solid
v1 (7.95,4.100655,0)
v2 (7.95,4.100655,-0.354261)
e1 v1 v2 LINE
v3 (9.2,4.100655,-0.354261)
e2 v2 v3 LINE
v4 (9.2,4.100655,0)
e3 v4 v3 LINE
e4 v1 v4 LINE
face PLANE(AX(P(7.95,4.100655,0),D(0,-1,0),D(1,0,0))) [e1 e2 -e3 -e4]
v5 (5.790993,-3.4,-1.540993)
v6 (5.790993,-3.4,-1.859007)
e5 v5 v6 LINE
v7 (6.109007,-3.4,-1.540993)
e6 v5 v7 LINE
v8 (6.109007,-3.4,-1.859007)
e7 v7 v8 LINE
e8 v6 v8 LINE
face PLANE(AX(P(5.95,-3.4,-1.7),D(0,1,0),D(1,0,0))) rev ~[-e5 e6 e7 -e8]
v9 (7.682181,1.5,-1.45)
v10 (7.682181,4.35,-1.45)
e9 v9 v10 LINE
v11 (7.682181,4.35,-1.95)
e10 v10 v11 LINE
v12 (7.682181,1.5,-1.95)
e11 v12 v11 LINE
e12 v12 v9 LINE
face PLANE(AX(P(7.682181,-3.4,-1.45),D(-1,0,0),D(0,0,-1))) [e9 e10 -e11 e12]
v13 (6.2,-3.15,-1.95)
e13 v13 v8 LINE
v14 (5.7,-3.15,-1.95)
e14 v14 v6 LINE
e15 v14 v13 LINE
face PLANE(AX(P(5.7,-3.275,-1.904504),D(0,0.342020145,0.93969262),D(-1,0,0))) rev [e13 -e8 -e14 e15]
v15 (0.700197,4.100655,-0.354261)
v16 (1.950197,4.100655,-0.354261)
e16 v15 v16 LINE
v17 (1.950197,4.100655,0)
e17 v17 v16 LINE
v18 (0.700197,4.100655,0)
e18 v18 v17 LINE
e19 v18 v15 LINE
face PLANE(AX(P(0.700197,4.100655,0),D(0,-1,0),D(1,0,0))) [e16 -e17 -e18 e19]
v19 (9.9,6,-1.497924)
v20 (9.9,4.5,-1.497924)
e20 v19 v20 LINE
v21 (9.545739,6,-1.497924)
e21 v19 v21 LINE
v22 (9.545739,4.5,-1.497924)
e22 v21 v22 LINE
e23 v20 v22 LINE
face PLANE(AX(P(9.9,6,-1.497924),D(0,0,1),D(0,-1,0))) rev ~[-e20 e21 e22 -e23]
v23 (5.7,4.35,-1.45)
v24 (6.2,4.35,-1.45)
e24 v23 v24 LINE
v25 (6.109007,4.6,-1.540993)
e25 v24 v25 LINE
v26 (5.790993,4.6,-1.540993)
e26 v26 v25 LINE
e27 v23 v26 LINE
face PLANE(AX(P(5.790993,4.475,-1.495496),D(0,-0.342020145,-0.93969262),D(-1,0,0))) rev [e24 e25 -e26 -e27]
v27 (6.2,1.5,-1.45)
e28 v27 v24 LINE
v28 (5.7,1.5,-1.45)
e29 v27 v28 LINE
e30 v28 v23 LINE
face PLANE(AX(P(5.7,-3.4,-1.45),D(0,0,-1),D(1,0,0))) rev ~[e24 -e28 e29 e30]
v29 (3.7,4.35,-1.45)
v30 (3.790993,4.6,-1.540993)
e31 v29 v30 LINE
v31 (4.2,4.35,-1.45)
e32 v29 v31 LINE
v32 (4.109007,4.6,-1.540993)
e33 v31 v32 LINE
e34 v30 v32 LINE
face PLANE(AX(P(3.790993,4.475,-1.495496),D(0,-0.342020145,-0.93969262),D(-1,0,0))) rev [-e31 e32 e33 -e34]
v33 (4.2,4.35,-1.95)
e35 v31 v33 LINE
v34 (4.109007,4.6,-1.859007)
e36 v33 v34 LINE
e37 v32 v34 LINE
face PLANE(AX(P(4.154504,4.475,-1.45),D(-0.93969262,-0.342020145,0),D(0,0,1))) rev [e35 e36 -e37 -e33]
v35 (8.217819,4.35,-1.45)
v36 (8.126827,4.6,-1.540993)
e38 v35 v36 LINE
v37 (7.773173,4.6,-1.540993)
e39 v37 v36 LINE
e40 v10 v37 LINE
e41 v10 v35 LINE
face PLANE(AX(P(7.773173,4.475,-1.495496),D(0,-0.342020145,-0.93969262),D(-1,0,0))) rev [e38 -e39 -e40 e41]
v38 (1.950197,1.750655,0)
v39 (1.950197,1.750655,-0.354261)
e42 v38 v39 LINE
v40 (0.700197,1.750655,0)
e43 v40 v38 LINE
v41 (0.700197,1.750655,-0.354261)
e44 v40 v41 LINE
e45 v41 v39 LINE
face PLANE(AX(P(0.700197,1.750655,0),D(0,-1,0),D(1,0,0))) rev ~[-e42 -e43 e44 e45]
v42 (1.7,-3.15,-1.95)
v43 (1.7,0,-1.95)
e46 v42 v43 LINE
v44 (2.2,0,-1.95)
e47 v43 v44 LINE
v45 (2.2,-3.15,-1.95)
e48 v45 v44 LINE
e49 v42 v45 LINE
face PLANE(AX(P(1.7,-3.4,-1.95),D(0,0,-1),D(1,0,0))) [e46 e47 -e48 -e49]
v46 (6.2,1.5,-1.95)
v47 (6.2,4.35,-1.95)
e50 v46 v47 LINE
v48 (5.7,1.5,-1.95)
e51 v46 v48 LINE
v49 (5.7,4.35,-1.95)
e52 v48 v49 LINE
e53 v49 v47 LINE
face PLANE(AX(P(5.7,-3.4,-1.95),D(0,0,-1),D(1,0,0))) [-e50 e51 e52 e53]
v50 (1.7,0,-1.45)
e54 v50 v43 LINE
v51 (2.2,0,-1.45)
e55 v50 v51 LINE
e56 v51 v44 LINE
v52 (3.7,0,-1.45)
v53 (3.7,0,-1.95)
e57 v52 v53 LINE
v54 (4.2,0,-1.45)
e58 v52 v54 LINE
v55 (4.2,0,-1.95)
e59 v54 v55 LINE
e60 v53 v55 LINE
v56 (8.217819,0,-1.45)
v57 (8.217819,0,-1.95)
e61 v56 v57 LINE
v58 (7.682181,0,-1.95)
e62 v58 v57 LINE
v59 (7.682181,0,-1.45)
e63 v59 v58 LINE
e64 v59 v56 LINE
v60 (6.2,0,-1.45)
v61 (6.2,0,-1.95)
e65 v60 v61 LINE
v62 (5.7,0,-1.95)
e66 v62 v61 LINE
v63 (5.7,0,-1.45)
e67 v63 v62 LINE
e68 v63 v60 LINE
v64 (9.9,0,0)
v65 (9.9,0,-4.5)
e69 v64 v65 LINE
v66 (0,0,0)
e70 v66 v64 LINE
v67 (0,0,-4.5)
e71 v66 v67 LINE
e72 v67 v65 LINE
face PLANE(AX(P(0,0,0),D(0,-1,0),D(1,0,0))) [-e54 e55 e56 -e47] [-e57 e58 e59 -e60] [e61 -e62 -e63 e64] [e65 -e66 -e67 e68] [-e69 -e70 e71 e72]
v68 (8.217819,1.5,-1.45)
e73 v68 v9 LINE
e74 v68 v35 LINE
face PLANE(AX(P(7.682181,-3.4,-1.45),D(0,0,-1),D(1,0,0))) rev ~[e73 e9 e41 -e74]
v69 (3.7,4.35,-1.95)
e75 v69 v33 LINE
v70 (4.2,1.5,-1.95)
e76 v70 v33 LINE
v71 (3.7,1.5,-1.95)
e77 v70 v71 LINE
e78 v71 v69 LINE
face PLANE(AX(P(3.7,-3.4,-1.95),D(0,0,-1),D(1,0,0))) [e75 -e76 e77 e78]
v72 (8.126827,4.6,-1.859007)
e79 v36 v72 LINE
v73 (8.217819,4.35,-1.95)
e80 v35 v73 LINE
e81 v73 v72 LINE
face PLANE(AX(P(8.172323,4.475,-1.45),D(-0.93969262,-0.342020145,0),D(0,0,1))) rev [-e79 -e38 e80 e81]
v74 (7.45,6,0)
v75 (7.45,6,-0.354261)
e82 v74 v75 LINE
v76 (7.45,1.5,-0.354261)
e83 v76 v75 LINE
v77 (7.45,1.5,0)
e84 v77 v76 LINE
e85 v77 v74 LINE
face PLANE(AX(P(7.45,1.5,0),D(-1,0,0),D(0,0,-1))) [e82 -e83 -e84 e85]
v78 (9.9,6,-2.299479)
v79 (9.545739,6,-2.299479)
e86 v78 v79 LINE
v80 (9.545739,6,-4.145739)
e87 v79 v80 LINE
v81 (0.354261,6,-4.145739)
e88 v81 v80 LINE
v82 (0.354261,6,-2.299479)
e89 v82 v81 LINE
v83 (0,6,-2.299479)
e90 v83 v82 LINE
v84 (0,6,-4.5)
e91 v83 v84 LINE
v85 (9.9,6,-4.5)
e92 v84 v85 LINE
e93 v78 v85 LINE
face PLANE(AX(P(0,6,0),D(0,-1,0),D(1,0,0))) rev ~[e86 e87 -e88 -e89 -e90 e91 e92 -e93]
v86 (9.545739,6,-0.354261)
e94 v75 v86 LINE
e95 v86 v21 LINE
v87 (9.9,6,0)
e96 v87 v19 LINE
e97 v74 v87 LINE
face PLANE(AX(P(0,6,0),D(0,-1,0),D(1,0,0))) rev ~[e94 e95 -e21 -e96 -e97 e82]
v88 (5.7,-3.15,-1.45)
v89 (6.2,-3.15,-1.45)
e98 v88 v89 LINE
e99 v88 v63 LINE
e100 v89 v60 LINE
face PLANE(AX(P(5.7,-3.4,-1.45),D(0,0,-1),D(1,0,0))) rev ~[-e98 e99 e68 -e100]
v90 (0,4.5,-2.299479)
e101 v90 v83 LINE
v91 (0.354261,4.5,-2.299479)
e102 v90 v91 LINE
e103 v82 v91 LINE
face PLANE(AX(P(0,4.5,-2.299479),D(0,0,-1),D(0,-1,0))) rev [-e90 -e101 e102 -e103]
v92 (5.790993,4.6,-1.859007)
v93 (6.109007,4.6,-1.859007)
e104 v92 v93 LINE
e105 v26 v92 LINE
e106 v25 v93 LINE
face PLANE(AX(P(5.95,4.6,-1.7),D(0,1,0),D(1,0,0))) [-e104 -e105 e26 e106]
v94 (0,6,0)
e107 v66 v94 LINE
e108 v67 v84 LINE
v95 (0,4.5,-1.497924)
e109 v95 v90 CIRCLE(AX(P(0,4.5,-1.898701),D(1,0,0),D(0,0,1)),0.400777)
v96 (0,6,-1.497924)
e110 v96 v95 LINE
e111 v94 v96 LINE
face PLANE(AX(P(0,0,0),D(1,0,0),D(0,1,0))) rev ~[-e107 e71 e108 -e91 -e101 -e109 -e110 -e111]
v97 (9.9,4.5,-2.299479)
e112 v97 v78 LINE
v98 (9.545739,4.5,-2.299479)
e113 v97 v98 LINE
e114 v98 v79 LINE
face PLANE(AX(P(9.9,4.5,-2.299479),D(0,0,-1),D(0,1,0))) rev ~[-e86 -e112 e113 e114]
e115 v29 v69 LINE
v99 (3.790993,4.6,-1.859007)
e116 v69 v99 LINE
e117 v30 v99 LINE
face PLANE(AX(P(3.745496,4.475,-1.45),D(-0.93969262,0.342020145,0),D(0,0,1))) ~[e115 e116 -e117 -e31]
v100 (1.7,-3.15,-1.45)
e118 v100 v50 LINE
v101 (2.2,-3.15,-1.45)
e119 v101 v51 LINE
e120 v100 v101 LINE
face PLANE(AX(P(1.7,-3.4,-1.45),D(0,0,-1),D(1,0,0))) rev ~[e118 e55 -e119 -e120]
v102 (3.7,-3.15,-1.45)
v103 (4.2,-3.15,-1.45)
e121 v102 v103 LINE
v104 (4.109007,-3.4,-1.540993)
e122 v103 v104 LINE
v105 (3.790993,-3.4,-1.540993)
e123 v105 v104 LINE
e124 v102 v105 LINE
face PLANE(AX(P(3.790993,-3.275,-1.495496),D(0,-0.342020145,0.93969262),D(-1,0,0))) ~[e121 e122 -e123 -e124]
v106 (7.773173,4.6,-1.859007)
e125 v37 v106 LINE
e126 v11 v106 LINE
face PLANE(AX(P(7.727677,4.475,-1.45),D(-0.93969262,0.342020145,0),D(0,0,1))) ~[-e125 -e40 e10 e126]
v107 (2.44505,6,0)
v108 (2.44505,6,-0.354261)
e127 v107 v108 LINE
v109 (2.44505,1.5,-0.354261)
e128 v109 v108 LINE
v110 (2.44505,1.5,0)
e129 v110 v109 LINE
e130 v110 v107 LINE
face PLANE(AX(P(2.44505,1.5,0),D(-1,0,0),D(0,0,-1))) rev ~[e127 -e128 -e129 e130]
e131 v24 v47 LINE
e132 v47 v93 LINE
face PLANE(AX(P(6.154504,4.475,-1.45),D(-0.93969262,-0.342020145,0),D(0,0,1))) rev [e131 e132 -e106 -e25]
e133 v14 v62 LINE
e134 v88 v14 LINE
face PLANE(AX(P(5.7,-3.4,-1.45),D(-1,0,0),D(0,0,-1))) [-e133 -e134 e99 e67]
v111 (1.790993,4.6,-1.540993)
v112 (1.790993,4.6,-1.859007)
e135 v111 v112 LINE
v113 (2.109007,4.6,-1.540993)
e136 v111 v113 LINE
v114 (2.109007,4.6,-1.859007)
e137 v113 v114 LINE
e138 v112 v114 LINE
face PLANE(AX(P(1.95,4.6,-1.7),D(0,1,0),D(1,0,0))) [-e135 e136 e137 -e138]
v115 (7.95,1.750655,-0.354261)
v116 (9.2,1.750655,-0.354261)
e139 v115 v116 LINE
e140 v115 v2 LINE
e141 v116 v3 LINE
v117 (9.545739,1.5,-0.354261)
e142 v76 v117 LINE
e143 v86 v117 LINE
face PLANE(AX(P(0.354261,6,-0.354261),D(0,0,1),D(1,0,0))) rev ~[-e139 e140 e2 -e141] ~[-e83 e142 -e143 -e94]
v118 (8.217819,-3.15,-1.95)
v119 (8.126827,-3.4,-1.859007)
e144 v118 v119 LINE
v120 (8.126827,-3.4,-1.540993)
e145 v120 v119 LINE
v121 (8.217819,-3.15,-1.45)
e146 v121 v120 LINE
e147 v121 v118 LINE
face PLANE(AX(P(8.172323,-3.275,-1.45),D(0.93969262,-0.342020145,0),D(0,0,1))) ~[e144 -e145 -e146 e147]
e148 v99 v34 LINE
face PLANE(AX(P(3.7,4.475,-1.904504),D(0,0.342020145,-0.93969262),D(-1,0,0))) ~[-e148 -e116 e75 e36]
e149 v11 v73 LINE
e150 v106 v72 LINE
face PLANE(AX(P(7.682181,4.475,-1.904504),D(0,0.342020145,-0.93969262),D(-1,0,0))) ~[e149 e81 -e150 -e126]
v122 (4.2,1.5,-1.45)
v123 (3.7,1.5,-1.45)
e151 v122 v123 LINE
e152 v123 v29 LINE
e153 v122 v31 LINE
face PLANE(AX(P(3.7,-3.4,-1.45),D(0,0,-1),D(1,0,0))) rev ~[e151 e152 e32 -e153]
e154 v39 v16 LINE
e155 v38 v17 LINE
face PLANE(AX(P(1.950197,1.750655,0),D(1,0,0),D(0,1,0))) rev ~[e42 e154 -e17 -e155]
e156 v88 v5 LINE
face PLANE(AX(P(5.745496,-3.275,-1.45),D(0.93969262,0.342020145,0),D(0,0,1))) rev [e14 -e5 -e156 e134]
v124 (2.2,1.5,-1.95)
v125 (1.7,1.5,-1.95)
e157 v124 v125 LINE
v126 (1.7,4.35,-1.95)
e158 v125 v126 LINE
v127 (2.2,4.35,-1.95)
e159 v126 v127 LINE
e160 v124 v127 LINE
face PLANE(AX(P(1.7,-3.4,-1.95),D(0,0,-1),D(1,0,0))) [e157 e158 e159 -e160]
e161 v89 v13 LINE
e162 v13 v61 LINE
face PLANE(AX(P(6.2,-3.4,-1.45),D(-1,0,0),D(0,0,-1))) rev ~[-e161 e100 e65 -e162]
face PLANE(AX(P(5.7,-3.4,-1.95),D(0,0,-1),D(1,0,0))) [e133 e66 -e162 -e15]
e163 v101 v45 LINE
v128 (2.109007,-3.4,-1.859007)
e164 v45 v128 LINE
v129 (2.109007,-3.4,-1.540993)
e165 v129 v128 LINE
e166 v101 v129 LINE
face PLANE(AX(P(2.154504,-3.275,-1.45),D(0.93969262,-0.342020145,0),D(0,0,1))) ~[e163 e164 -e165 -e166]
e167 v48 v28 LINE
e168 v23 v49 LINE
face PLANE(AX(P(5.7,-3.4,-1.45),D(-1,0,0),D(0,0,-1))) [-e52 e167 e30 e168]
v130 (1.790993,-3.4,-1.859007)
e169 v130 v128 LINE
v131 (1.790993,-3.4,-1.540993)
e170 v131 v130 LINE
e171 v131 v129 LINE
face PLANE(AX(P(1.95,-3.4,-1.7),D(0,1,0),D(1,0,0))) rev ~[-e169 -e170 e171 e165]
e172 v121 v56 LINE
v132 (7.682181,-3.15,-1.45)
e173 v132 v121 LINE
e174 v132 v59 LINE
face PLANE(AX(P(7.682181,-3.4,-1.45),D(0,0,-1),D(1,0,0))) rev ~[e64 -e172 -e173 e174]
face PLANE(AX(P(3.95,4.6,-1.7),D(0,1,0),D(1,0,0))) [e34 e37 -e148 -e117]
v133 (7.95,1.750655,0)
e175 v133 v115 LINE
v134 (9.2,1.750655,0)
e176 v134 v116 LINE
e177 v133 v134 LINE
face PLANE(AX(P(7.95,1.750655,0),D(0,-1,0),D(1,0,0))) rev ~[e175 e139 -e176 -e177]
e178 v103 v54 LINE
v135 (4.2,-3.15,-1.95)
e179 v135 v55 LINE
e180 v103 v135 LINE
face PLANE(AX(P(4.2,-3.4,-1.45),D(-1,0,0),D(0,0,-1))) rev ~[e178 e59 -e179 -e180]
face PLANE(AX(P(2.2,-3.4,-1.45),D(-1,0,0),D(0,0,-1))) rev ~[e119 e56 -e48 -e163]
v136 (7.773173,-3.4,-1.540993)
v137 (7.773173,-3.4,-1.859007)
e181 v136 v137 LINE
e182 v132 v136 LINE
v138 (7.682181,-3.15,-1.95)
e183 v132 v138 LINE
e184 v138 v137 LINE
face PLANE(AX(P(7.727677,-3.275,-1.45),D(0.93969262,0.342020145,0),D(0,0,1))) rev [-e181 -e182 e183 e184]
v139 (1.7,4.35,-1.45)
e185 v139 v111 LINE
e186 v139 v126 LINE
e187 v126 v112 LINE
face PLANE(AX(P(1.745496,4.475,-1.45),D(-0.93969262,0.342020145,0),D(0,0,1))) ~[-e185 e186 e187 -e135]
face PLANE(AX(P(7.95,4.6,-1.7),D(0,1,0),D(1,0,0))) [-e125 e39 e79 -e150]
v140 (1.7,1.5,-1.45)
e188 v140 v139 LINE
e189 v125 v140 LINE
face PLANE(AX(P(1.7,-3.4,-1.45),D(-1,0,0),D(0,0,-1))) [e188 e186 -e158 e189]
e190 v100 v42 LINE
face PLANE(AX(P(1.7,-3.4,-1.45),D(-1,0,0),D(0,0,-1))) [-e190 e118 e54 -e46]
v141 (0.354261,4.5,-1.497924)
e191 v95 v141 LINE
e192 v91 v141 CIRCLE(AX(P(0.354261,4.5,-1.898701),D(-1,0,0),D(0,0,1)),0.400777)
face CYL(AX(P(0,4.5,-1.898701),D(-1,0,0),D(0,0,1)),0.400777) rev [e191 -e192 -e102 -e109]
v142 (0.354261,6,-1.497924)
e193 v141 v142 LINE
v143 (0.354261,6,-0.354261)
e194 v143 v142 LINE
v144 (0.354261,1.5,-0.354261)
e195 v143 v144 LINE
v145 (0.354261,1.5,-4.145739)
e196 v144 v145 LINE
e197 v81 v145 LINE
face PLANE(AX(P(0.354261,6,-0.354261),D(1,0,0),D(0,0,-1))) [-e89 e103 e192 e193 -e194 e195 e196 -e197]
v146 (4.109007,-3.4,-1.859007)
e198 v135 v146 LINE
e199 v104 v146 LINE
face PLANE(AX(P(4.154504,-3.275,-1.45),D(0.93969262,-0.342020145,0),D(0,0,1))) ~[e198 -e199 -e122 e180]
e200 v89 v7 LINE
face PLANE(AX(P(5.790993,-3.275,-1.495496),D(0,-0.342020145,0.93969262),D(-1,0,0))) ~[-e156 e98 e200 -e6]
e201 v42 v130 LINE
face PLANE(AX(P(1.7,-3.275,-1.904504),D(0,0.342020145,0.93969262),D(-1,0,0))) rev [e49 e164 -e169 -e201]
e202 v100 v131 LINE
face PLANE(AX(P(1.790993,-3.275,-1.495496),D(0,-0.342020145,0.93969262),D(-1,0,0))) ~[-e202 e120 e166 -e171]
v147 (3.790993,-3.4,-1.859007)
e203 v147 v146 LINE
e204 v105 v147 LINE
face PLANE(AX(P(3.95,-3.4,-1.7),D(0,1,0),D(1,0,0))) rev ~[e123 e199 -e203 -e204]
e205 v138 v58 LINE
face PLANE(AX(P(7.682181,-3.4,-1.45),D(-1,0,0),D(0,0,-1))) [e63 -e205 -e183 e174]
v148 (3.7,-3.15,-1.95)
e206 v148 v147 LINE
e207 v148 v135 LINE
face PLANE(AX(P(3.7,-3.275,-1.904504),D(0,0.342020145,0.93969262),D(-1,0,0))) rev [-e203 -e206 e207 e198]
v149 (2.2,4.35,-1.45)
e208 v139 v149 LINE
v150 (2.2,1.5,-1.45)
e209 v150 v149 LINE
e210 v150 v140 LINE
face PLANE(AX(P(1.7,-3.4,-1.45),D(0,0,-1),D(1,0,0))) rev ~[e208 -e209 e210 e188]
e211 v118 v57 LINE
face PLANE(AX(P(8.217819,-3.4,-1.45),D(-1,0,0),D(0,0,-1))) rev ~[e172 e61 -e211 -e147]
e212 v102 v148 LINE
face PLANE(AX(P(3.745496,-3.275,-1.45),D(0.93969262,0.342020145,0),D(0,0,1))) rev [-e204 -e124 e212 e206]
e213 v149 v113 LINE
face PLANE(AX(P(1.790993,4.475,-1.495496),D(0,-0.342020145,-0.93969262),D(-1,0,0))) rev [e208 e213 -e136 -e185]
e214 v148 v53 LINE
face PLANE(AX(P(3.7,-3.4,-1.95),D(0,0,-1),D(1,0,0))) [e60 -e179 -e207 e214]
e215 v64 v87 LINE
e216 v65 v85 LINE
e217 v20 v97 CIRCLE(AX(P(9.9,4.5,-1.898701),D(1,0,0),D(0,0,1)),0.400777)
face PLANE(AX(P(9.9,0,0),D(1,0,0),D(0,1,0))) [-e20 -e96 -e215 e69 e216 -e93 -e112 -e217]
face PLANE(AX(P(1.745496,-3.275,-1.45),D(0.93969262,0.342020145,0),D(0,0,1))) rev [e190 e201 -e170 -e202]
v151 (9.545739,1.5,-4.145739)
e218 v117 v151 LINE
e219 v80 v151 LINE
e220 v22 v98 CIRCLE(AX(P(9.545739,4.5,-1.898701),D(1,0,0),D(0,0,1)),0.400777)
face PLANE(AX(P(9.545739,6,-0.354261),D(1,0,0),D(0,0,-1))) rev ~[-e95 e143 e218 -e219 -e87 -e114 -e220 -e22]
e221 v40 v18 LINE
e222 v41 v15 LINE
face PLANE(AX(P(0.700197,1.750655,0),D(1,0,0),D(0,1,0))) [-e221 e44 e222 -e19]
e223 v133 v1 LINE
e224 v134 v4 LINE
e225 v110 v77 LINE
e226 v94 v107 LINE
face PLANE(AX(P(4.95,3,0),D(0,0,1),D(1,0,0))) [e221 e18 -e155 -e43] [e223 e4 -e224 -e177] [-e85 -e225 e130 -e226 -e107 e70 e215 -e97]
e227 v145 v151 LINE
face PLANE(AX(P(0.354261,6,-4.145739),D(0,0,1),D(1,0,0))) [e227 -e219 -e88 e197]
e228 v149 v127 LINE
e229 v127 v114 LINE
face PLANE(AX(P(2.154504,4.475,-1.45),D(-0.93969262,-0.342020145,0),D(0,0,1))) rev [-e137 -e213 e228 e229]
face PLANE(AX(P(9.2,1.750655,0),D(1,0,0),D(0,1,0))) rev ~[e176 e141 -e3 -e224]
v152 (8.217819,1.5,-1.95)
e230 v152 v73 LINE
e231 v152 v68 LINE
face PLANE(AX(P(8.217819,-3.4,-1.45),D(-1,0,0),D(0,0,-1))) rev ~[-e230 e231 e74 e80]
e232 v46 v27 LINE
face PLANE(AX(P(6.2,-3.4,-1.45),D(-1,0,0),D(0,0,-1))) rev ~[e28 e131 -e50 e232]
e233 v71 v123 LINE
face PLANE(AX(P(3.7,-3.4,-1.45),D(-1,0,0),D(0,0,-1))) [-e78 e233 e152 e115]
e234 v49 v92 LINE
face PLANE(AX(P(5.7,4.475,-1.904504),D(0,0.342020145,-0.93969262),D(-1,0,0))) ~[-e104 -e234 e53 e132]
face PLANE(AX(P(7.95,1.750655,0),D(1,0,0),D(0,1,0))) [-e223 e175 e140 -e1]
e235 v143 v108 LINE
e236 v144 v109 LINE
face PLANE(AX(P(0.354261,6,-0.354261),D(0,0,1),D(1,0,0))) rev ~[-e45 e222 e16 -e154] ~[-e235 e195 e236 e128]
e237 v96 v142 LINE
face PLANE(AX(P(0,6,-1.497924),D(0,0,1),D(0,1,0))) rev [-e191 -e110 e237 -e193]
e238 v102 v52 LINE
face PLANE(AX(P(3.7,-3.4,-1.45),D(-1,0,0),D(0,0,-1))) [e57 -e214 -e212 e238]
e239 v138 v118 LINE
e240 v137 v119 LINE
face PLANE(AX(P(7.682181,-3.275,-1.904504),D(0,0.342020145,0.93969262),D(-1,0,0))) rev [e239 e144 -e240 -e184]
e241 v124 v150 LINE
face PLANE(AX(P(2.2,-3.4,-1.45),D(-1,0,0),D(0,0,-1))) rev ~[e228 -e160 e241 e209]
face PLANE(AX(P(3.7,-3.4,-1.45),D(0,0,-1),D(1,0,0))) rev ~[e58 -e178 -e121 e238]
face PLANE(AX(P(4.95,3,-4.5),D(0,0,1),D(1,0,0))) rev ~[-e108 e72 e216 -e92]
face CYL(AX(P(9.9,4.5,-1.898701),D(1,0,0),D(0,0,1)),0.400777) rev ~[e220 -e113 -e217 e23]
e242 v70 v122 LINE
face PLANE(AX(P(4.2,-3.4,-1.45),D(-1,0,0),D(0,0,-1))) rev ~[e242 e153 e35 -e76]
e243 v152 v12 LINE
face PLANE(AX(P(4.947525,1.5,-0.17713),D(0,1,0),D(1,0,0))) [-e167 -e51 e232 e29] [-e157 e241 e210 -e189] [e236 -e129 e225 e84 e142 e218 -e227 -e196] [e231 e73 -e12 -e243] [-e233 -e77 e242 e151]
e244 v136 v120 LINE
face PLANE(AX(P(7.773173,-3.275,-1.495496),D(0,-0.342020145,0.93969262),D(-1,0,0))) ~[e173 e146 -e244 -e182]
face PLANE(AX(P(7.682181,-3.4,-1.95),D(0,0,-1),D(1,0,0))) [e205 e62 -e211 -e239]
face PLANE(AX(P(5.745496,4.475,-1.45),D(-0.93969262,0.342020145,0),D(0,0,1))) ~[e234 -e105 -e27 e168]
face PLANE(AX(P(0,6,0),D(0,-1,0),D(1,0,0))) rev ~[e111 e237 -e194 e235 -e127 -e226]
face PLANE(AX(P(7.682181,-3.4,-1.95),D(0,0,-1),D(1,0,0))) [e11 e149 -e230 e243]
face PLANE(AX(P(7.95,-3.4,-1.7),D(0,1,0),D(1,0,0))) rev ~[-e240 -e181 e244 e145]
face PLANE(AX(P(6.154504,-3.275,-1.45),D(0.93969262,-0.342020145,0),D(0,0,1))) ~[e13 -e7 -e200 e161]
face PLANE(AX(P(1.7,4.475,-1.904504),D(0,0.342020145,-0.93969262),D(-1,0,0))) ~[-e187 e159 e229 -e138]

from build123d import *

# Parameters (mm, degrees)
SKETCH1_W              = 9.9
SKETCH1_H              = 6
BOSS_EXTRUDE1_DEPTH    = 4.5
SKETCH2_W              = 9.191478786
SKETCH2_H              = 3.791478786
CUT_EXTRUDE1_DEPTH     = 4.5
SKETCH3_W              = 5.004949596
SKETCH3_H              = 0.354260607
CUT_EXTRUDE2_DEPTH     = 4.5
CUT_EXTRUDE3_DEPTH     = 0.5
SKETCH6_W              = 1.25
SKETCH6_H              = 2.35
CUT_EXTRUDE4_DEPTH     = 0.5
BOSS_EXTRUDE3_START    = -3.4
SKETCH10_W             = 0.5
SKETCH10_H             = 0.5
SKETCH10_W_2           = 0.535638506
BOSS_EXTRUDE3_DEPTH    = 8
CHAMFER1_SIZE          = 0.25
CHAMFER1_SIZE2         = 0.090992559
CHAMFER1_PART_2_SIZE   = 0.25
CHAMFER1_PART_2_SIZE2  = 0.090992559
CHAMFER1_PART_3_SIZE   = 0.25
CHAMFER1_PART_3_SIZE2  = 0.090992559
CHAMFER1_PART_4_SIZE   = 0.25
CHAMFER1_PART_4_SIZE2  = 0.090992559
CHAMFER2_SIZE          = 0.25
CHAMFER2_SIZE2         = 0.090992559
CHAMFER2_PART_2_SIZE   = 0.25
CHAMFER2_PART_2_SIZE2  = 0.090992559
CHAMFER2_PART_3_SIZE   = 0.25
CHAMFER2_PART_3_SIZE2  = 0.090992559
CHAMFER2_PART_4_SIZE   = 0.25
CHAMFER2_PART_4_SIZE2  = 0.090992559
CHAMFER2_PART_5_SIZE   = 0.25
CHAMFER2_PART_5_SIZE2  = 0.090992559
CHAMFER2_PART_6_SIZE   = 0.25
CHAMFER2_PART_6_SIZE2  = 0.090992559
CHAMFER2_PART_7_SIZE   = 0.25
CHAMFER2_PART_7_SIZE2  = 0.090992559
CHAMFER2_PART_8_SIZE   = 0.25
CHAMFER2_PART_8_SIZE2  = 0.090992559
CHAMFER2_PART_9_SIZE   = 0.25
CHAMFER2_PART_9_SIZE2  = 0.090992559
CHAMFER2_PART_10_SIZE  = 0.25
CHAMFER2_PART_10_SIZE2 = 0.090992559
CHAMFER2_PART_11_SIZE  = 0.25
CHAMFER2_PART_11_SIZE2 = 0.090992559
CHAMFER2_PART_12_SIZE  = 0.25
CHAMFER2_PART_12_SIZE2 = 0.090992559
CHAMFER3_SIZE          = 0.25
CHAMFER3_SIZE2         = 0.090992559
CHAMFER3_PART_2_SIZE   = 0.25
CHAMFER3_PART_2_SIZE2  = 0.090992559
CHAMFER3_PART_3_SIZE   = 0.25
CHAMFER3_PART_3_SIZE2  = 0.090992559
CHAMFER3_PART_4_SIZE   = 0.25
CHAMFER3_PART_4_SIZE2  = 0.090992559
CHAMFER3_PART_5_SIZE   = 0.25
CHAMFER3_PART_5_SIZE2  = 0.090992559
CHAMFER3_PART_6_SIZE   = 0.25
CHAMFER3_PART_6_SIZE2  = 0.090992559
CHAMFER3_PART_7_SIZE   = 0.25
CHAMFER3_PART_7_SIZE2  = 0.090992559
CHAMFER3_PART_8_SIZE   = 0.25
CHAMFER3_PART_8_SIZE2  = 0.090992559
CHAMFER3_PART_9_SIZE   = 0.25
CHAMFER3_PART_9_SIZE2  = 0.090992559
CHAMFER3_PART_10_SIZE  = 0.25
CHAMFER3_PART_10_SIZE2 = 0.090992559
CHAMFER3_PART_11_SIZE  = 0.25
CHAMFER3_PART_11_SIZE2 = 0.090992559
CHAMFER3_PART_12_SIZE  = 0.25
CHAMFER3_PART_12_SIZE2 = 0.090992559
CHAMFER3_PART_13_SIZE  = 0.25
CHAMFER3_PART_13_SIZE2 = 0.090992559
CHAMFER3_PART_14_SIZE  = 0.25
CHAMFER3_PART_14_SIZE2 = 0.090992559
CHAMFER3_PART_15_SIZE  = 0.25
CHAMFER3_PART_15_SIZE2 = 0.090992559
CHAMFER3_PART_16_SIZE  = 0.25
CHAMFER3_PART_16_SIZE2 = 0.090992559


with BuildPart() as part:
    # Sketch1 → Boss-Extrude1 (new body)
    with BuildSketch(Plane.XY):
        with Locations((4.95, 3)):
            Rectangle(SKETCH1_W, SKETCH1_H)
    extrude(amount=-BOSS_EXTRUDE1_DEPTH)

    # Sketch2 → Cut-Extrude1 (cut)
    with BuildSketch(Plane(origin=(0, 6, 0), x_dir=(1, 0, 0), z_dir=(0, 1, 0))):
        with Locations((4.95, 2.25)):
            Rectangle(SKETCH2_W, SKETCH2_H)
    extrude(amount=-CUT_EXTRUDE1_DEPTH, mode=Mode.SUBTRACT)

    # Sketch3 → Cut-Extrude2 (cut)
    with BuildSketch(Plane(origin=(0, 1.5, 0), x_dir=(1, 0, 0), z_dir=(0, 1, 0))):
        with Locations((4.947525202, 0.177130304)):
            Rectangle(SKETCH3_W, SKETCH3_H)
    extrude(amount=CUT_EXTRUDE2_DEPTH, mode=Mode.SUBTRACT)

    # Sketch5 → Cut-Extrude3 (cut)
    with BuildSketch(Plane(origin=(9.9, 0, 0), x_dir=(0, 0, -1), z_dir=(1, 0, 0))):
        with BuildLine():
            Line((2.299478677, 6), (1.497924103, 6))
            Line((1.497924103, 6), (1.497924103, 4.5))
            ThreePointArc((1.497924103, 4.5), (1.89870139, 4.900777287), (2.299478677, 4.5))
            Line((2.299478677, 4.5), (2.299478677, 6))
        make_face()
        with BuildLine():
            ThreePointArc((2.299478677, 4.5), (1.89870139, 4.900777287), (1.497924103, 4.5))
            Line((1.497924103, 4.5), (2.299478677, 4.5))
        make_face()
        with BuildLine():
            Line((2.299478677, 4.5), (1.497924103, 4.5))
            ThreePointArc((1.497924103, 4.5), (1.89870139, 4.099222713), (2.299478677, 4.5))
        make_face()
    cut_extrude3 = extrude(amount=-CUT_EXTRUDE3_DEPTH, mode=Mode.SUBTRACT)

    # Mirror1: Cut-Extrude3 across plane
    add(cut_extrude3.mirror(Plane(origin=(4.95, 0, 0), x_dir=(0, 0, 1), z_dir=(1, 0, 0))), mode=Mode.SUBTRACT)

    # Sketch6 → Cut-Extrude4 (cut)
    with BuildSketch(Plane.XY):
        with Locations((1.325196701, 2.925654718)):
            Rectangle(SKETCH6_W, SKETCH6_H)
        with Locations((8.575, 2.925654718)):
            Rectangle(SKETCH6_W, SKETCH6_H)
    extrude(amount=-CUT_EXTRUDE4_DEPTH, mode=Mode.SUBTRACT)

    # Sketch10 → Boss-Extrude3 (add)
    with BuildSketch(Plane(origin=(0, 0, 0), x_dir=(1, 0, 0), z_dir=(0, 1, 0)).offset(BOSS_EXTRUDE3_START)):
        with Locations((1.95, 1.7)):
            Rectangle(SKETCH10_W, SKETCH10_H)
        with Locations((3.95, 1.7)):
            Rectangle(SKETCH10_W, SKETCH10_H)
        with Locations((5.95, 1.7)):
            Rectangle(SKETCH10_W, SKETCH10_H)
        with Locations((7.95, 1.7)):
            Rectangle(SKETCH10_W_2, SKETCH10_H)
    extrude(amount=BOSS_EXTRUDE3_DEPTH)

    # Chamfer1
    chamfer1_edges = [part.edges().sort_by_distance(p)[0] for p in [
        (2.2, 4.6, -1.7),
    ]]
    chamfer1_side = [part.faces().sort_by_distance(p)[0] for p in [
        (2.2, 3.05, -1.7),
    ]]
    chamfer(chamfer1_edges, length=CHAMFER1_SIZE, length2=CHAMFER1_SIZE2, reference=chamfer1_side[0])

    # Chamfer1 part 2
    chamfer1_part_2_edges = [part.edges().sort_by_distance(p)[0] for p in [
        (1.95, 4.6, -1.95),
    ]]
    chamfer1_part_2_side = [part.faces().sort_by_distance(p)[0] for p in [
        (1.95, 3.05, -1.95),
    ]]
    chamfer(chamfer1_part_2_edges, length=CHAMFER1_PART_2_SIZE, length2=CHAMFER1_PART_2_SIZE2, reference=chamfer1_part_2_side[0])

    # Chamfer1 part 3
    chamfer1_part_3_edges = [part.edges().sort_by_distance(p)[0] for p in [
        (1.7, 4.6, -1.7),
    ]]
    chamfer1_part_3_side = [part.faces().sort_by_distance(p)[0] for p in [
        (1.7, 3.05, -1.7),
    ]]
    chamfer(chamfer1_part_3_edges, length=CHAMFER1_PART_3_SIZE, length2=CHAMFER1_PART_3_SIZE2, reference=chamfer1_part_3_side[0])

    # Chamfer1 part 4
    chamfer1_part_4_edges = [part.edges().sort_by_distance(p)[0] for p in [
        (1.95, 4.6, -1.45),
    ]]
    chamfer1_part_4_side = [part.faces().sort_by_distance(p)[0] for p in [
        (1.95, 3.05, -1.45),
    ]]
    chamfer(chamfer1_part_4_edges, length=CHAMFER1_PART_4_SIZE, length2=CHAMFER1_PART_4_SIZE2, reference=chamfer1_part_4_side[0])

    # Chamfer2
    chamfer2_edges = [part.edges().sort_by_distance(p)[0] for p in [
        (4.2, 4.6, -1.7),
    ]]
    chamfer2_side = [part.faces().sort_by_distance(p)[0] for p in [
        (4.2, 3.05, -1.7),
    ]]
    chamfer(chamfer2_edges, length=CHAMFER2_SIZE, length2=CHAMFER2_SIZE2, reference=chamfer2_side[0])

    # Chamfer2 part 2
    chamfer2_part_2_edges = [part.edges().sort_by_distance(p)[0] for p in [
        (3.95, 4.6, -1.95),
    ]]
    chamfer2_part_2_side = [part.faces().sort_by_distance(p)[0] for p in [
        (3.95, 3.05, -1.95),
    ]]
    chamfer(chamfer2_part_2_edges, length=CHAMFER2_PART_2_SIZE, length2=CHAMFER2_PART_2_SIZE2, reference=chamfer2_part_2_side[0])

    # Chamfer2 part 3
    chamfer2_part_3_edges = [part.edges().sort_by_distance(p)[0] for p in [
        (3.7, 4.6, -1.7),
    ]]
    chamfer2_part_3_side = [part.faces().sort_by_distance(p)[0] for p in [
        (3.7, 3.05, -1.7),
    ]]
    chamfer(chamfer2_part_3_edges, length=CHAMFER2_PART_3_SIZE, length2=CHAMFER2_PART_3_SIZE2, reference=chamfer2_part_3_side[0])

    # Chamfer2 part 4
    chamfer2_part_4_edges = [part.edges().sort_by_distance(p)[0] for p in [
        (3.95, 4.6, -1.45),
    ]]
    chamfer2_part_4_side = [part.faces().sort_by_distance(p)[0] for p in [
        (3.95, 3.05, -1.45),
    ]]
    chamfer(chamfer2_part_4_edges, length=CHAMFER2_PART_4_SIZE, length2=CHAMFER2_PART_4_SIZE2, reference=chamfer2_part_4_side[0])

    # Chamfer2 part 5
    chamfer2_part_5_edges = [part.edges().sort_by_distance(p)[0] for p in [
        (6.2, 4.6, -1.7),
    ]]
    chamfer2_part_5_side = [part.faces().sort_by_distance(p)[0] for p in [
        (6.2, 3.05, -1.7),
    ]]
    chamfer(chamfer2_part_5_edges, length=CHAMFER2_PART_5_SIZE, length2=CHAMFER2_PART_5_SIZE2, reference=chamfer2_part_5_side[0])

    # Chamfer2 part 6
    chamfer2_part_6_edges = [part.edges().sort_by_distance(p)[0] for p in [
        (5.95, 4.6, -1.95),
    ]]
    chamfer2_part_6_side = [part.faces().sort_by_distance(p)[0] for p in [
        (5.95, 3.05, -1.95),
    ]]
    chamfer(chamfer2_part_6_edges, length=CHAMFER2_PART_6_SIZE, length2=CHAMFER2_PART_6_SIZE2, reference=chamfer2_part_6_side[0])

    # Chamfer2 part 7
    chamfer2_part_7_edges = [part.edges().sort_by_distance(p)[0] for p in [
        (5.7, 4.6, -1.7),
    ]]
    chamfer2_part_7_side = [part.faces().sort_by_distance(p)[0] for p in [
        (5.7, 3.05, -1.7),
    ]]
    chamfer(chamfer2_part_7_edges, length=CHAMFER2_PART_7_SIZE, length2=CHAMFER2_PART_7_SIZE2, reference=chamfer2_part_7_side[0])

    # Chamfer2 part 8
    chamfer2_part_8_edges = [part.edges().sort_by_distance(p)[0] for p in [
        (5.95, 4.6, -1.45),
    ]]
    chamfer2_part_8_side = [part.faces().sort_by_distance(p)[0] for p in [
        (5.95, 3.05, -1.45),
    ]]
    chamfer(chamfer2_part_8_edges, length=CHAMFER2_PART_8_SIZE, length2=CHAMFER2_PART_8_SIZE2, reference=chamfer2_part_8_side[0])

    # Chamfer2 part 9
    chamfer2_part_9_edges = [part.edges().sort_by_distance(p)[0] for p in [
        (8.217819253, 4.6, -1.7),
    ]]
    chamfer2_part_9_side = [part.faces().sort_by_distance(p)[0] for p in [
        (8.217819253, 3.05, -1.7),
    ]]
    chamfer(chamfer2_part_9_edges, length=CHAMFER2_PART_9_SIZE, length2=CHAMFER2_PART_9_SIZE2, reference=chamfer2_part_9_side[0])

    # Chamfer2 part 10
    chamfer2_part_10_edges = [part.edges().sort_by_distance(p)[0] for p in [
        (7.95, 4.6, -1.95),
    ]]
    chamfer2_part_10_side = [part.faces().sort_by_distance(p)[0] for p in [
        (7.95, 3.05, -1.95),
    ]]
    chamfer(chamfer2_part_10_edges, length=CHAMFER2_PART_10_SIZE, length2=CHAMFER2_PART_10_SIZE2, reference=chamfer2_part_10_side[0])

    # Chamfer2 part 11
    chamfer2_part_11_edges = [part.edges().sort_by_distance(p)[0] for p in [
        (7.682180747, 4.6, -1.7),
    ]]
    chamfer2_part_11_side = [part.faces().sort_by_distance(p)[0] for p in [
        (7.682180747, 3.05, -1.7),
    ]]
    chamfer(chamfer2_part_11_edges, length=CHAMFER2_PART_11_SIZE, length2=CHAMFER2_PART_11_SIZE2, reference=chamfer2_part_11_side[0])

    # Chamfer2 part 12
    chamfer2_part_12_edges = [part.edges().sort_by_distance(p)[0] for p in [
        (7.95, 4.6, -1.45),
    ]]
    chamfer2_part_12_side = [part.faces().sort_by_distance(p)[0] for p in [
        (7.95, 3.05, -1.45),
    ]]
    chamfer(chamfer2_part_12_edges, length=CHAMFER2_PART_12_SIZE, length2=CHAMFER2_PART_12_SIZE2, reference=chamfer2_part_12_side[0])

    # Chamfer3
    chamfer3_edges = [part.edges().sort_by_distance(p)[0] for p in [
        (2.2, -3.4, -1.7),
    ]]
    chamfer3_side = [part.faces().sort_by_distance(p)[0] for p in [
        (2.2, -1.7, -1.7),
    ]]
    chamfer(chamfer3_edges, length=CHAMFER3_SIZE, length2=CHAMFER3_SIZE2, reference=chamfer3_side[0])

    # Chamfer3 part 2
    chamfer3_part_2_edges = [part.edges().sort_by_distance(p)[0] for p in [
        (1.95, -3.4, -1.95),
    ]]
    chamfer3_part_2_side = [part.faces().sort_by_distance(p)[0] for p in [
        (1.95, -1.7, -1.95),
    ]]
    chamfer(chamfer3_part_2_edges, length=CHAMFER3_PART_2_SIZE, length2=CHAMFER3_PART_2_SIZE2, reference=chamfer3_part_2_side[0])

    # Chamfer3 part 3
    chamfer3_part_3_edges = [part.edges().sort_by_distance(p)[0] for p in [
        (1.7, -3.4, -1.7),
    ]]
    chamfer3_part_3_side = [part.faces().sort_by_distance(p)[0] for p in [
        (1.7, -1.7, -1.7),
    ]]
    chamfer(chamfer3_part_3_edges, length=CHAMFER3_PART_3_SIZE, length2=CHAMFER3_PART_3_SIZE2, reference=chamfer3_part_3_side[0])

    # Chamfer3 part 4
    chamfer3_part_4_edges = [part.edges().sort_by_distance(p)[0] for p in [
        (1.95, -3.4, -1.45),
    ]]
    chamfer3_part_4_side = [part.faces().sort_by_distance(p)[0] for p in [
        (1.95, -1.7, -1.45),
    ]]
    chamfer(chamfer3_part_4_edges, length=CHAMFER3_PART_4_SIZE, length2=CHAMFER3_PART_4_SIZE2, reference=chamfer3_part_4_side[0])

    # Chamfer3 part 5
    chamfer3_part_5_edges = [part.edges().sort_by_distance(p)[0] for p in [
        (4.2, -3.4, -1.7),
    ]]
    chamfer3_part_5_side = [part.faces().sort_by_distance(p)[0] for p in [
        (4.2, -1.7, -1.7),
    ]]
    chamfer(chamfer3_part_5_edges, length=CHAMFER3_PART_5_SIZE, length2=CHAMFER3_PART_5_SIZE2, reference=chamfer3_part_5_side[0])

    # Chamfer3 part 6
    chamfer3_part_6_edges = [part.edges().sort_by_distance(p)[0] for p in [
        (3.95, -3.4, -1.95),
    ]]
    chamfer3_part_6_side = [part.faces().sort_by_distance(p)[0] for p in [
        (3.95, -1.7, -1.95),
    ]]
    chamfer(chamfer3_part_6_edges, length=CHAMFER3_PART_6_SIZE, length2=CHAMFER3_PART_6_SIZE2, reference=chamfer3_part_6_side[0])

    # Chamfer3 part 7
    chamfer3_part_7_edges = [part.edges().sort_by_distance(p)[0] for p in [
        (3.7, -3.4, -1.7),
    ]]
    chamfer3_part_7_side = [part.faces().sort_by_distance(p)[0] for p in [
        (3.7, -1.7, -1.7),
    ]]
    chamfer(chamfer3_part_7_edges, length=CHAMFER3_PART_7_SIZE, length2=CHAMFER3_PART_7_SIZE2, reference=chamfer3_part_7_side[0])

    # Chamfer3 part 8
    chamfer3_part_8_edges = [part.edges().sort_by_distance(p)[0] for p in [
        (3.95, -3.4, -1.45),
    ]]
    chamfer3_part_8_side = [part.faces().sort_by_distance(p)[0] for p in [
        (3.95, -1.7, -1.45),
    ]]
    chamfer(chamfer3_part_8_edges, length=CHAMFER3_PART_8_SIZE, length2=CHAMFER3_PART_8_SIZE2, reference=chamfer3_part_8_side[0])

    # Chamfer3 part 9
    chamfer3_part_9_edges = [part.edges().sort_by_distance(p)[0] for p in [
        (6.2, -3.4, -1.7),
    ]]
    chamfer3_part_9_side = [part.faces().sort_by_distance(p)[0] for p in [
        (6.2, -1.7, -1.7),
    ]]
    chamfer(chamfer3_part_9_edges, length=CHAMFER3_PART_9_SIZE, length2=CHAMFER3_PART_9_SIZE2, reference=chamfer3_part_9_side[0])

    # Chamfer3 part 10
    chamfer3_part_10_edges = [part.edges().sort_by_distance(p)[0] for p in [
        (5.95, -3.4, -1.95),
    ]]
    chamfer3_part_10_side = [part.faces().sort_by_distance(p)[0] for p in [
        (5.95, -1.7, -1.95),
    ]]
    chamfer(chamfer3_part_10_edges, length=CHAMFER3_PART_10_SIZE, length2=CHAMFER3_PART_10_SIZE2, reference=chamfer3_part_10_side[0])

    # Chamfer3 part 11
    chamfer3_part_11_edges = [part.edges().sort_by_distance(p)[0] for p in [
        (5.7, -3.4, -1.7),
    ]]
    chamfer3_part_11_side = [part.faces().sort_by_distance(p)[0] for p in [
        (5.7, -1.7, -1.7),
    ]]
    chamfer(chamfer3_part_11_edges, length=CHAMFER3_PART_11_SIZE, length2=CHAMFER3_PART_11_SIZE2, reference=chamfer3_part_11_side[0])

    # Chamfer3 part 12
    chamfer3_part_12_edges = [part.edges().sort_by_distance(p)[0] for p in [
        (5.95, -3.4, -1.45),
    ]]
    chamfer3_part_12_side = [part.faces().sort_by_distance(p)[0] for p in [
        (5.95, -1.7, -1.45),
    ]]
    chamfer(chamfer3_part_12_edges, length=CHAMFER3_PART_12_SIZE, length2=CHAMFER3_PART_12_SIZE2, reference=chamfer3_part_12_side[0])

    # Chamfer3 part 13
    chamfer3_part_13_edges = [part.edges().sort_by_distance(p)[0] for p in [
        (8.217819253, -3.4, -1.7),
    ]]
    chamfer3_part_13_side = [part.faces().sort_by_distance(p)[0] for p in [
        (8.217819253, -1.7, -1.7),
    ]]
    chamfer(chamfer3_part_13_edges, length=CHAMFER3_PART_13_SIZE, length2=CHAMFER3_PART_13_SIZE2, reference=chamfer3_part_13_side[0])

    # Chamfer3 part 14
    chamfer3_part_14_edges = [part.edges().sort_by_distance(p)[0] for p in [
        (7.95, -3.4, -1.95),
    ]]
    chamfer3_part_14_side = [part.faces().sort_by_distance(p)[0] for p in [
        (7.95, -1.7, -1.95),
    ]]
    chamfer(chamfer3_part_14_edges, length=CHAMFER3_PART_14_SIZE, length2=CHAMFER3_PART_14_SIZE2, reference=chamfer3_part_14_side[0])

    # Chamfer3 part 15
    chamfer3_part_15_edges = [part.edges().sort_by_distance(p)[0] for p in [
        (7.682180747, -3.4, -1.7),
    ]]
    chamfer3_part_15_side = [part.faces().sort_by_distance(p)[0] for p in [
        (7.682180747, -1.7, -1.7),
    ]]
    chamfer(chamfer3_part_15_edges, length=CHAMFER3_PART_15_SIZE, length2=CHAMFER3_PART_15_SIZE2, reference=chamfer3_part_15_side[0])

    # Chamfer3 part 16
    chamfer3_part_16_edges = [part.edges().sort_by_distance(p)[0] for p in [
        (7.95, -3.4, -1.45),
    ]]
    chamfer3_part_16_side = [part.faces().sort_by_distance(p)[0] for p in [
        (7.95, -1.7, -1.45),
    ]]
    chamfer(chamfer3_part_16_edges, length=CHAMFER3_PART_16_SIZE, length2=CHAMFER3_PART_16_SIZE2, reference=chamfer3_part_16_side[0])


solid = part.part
